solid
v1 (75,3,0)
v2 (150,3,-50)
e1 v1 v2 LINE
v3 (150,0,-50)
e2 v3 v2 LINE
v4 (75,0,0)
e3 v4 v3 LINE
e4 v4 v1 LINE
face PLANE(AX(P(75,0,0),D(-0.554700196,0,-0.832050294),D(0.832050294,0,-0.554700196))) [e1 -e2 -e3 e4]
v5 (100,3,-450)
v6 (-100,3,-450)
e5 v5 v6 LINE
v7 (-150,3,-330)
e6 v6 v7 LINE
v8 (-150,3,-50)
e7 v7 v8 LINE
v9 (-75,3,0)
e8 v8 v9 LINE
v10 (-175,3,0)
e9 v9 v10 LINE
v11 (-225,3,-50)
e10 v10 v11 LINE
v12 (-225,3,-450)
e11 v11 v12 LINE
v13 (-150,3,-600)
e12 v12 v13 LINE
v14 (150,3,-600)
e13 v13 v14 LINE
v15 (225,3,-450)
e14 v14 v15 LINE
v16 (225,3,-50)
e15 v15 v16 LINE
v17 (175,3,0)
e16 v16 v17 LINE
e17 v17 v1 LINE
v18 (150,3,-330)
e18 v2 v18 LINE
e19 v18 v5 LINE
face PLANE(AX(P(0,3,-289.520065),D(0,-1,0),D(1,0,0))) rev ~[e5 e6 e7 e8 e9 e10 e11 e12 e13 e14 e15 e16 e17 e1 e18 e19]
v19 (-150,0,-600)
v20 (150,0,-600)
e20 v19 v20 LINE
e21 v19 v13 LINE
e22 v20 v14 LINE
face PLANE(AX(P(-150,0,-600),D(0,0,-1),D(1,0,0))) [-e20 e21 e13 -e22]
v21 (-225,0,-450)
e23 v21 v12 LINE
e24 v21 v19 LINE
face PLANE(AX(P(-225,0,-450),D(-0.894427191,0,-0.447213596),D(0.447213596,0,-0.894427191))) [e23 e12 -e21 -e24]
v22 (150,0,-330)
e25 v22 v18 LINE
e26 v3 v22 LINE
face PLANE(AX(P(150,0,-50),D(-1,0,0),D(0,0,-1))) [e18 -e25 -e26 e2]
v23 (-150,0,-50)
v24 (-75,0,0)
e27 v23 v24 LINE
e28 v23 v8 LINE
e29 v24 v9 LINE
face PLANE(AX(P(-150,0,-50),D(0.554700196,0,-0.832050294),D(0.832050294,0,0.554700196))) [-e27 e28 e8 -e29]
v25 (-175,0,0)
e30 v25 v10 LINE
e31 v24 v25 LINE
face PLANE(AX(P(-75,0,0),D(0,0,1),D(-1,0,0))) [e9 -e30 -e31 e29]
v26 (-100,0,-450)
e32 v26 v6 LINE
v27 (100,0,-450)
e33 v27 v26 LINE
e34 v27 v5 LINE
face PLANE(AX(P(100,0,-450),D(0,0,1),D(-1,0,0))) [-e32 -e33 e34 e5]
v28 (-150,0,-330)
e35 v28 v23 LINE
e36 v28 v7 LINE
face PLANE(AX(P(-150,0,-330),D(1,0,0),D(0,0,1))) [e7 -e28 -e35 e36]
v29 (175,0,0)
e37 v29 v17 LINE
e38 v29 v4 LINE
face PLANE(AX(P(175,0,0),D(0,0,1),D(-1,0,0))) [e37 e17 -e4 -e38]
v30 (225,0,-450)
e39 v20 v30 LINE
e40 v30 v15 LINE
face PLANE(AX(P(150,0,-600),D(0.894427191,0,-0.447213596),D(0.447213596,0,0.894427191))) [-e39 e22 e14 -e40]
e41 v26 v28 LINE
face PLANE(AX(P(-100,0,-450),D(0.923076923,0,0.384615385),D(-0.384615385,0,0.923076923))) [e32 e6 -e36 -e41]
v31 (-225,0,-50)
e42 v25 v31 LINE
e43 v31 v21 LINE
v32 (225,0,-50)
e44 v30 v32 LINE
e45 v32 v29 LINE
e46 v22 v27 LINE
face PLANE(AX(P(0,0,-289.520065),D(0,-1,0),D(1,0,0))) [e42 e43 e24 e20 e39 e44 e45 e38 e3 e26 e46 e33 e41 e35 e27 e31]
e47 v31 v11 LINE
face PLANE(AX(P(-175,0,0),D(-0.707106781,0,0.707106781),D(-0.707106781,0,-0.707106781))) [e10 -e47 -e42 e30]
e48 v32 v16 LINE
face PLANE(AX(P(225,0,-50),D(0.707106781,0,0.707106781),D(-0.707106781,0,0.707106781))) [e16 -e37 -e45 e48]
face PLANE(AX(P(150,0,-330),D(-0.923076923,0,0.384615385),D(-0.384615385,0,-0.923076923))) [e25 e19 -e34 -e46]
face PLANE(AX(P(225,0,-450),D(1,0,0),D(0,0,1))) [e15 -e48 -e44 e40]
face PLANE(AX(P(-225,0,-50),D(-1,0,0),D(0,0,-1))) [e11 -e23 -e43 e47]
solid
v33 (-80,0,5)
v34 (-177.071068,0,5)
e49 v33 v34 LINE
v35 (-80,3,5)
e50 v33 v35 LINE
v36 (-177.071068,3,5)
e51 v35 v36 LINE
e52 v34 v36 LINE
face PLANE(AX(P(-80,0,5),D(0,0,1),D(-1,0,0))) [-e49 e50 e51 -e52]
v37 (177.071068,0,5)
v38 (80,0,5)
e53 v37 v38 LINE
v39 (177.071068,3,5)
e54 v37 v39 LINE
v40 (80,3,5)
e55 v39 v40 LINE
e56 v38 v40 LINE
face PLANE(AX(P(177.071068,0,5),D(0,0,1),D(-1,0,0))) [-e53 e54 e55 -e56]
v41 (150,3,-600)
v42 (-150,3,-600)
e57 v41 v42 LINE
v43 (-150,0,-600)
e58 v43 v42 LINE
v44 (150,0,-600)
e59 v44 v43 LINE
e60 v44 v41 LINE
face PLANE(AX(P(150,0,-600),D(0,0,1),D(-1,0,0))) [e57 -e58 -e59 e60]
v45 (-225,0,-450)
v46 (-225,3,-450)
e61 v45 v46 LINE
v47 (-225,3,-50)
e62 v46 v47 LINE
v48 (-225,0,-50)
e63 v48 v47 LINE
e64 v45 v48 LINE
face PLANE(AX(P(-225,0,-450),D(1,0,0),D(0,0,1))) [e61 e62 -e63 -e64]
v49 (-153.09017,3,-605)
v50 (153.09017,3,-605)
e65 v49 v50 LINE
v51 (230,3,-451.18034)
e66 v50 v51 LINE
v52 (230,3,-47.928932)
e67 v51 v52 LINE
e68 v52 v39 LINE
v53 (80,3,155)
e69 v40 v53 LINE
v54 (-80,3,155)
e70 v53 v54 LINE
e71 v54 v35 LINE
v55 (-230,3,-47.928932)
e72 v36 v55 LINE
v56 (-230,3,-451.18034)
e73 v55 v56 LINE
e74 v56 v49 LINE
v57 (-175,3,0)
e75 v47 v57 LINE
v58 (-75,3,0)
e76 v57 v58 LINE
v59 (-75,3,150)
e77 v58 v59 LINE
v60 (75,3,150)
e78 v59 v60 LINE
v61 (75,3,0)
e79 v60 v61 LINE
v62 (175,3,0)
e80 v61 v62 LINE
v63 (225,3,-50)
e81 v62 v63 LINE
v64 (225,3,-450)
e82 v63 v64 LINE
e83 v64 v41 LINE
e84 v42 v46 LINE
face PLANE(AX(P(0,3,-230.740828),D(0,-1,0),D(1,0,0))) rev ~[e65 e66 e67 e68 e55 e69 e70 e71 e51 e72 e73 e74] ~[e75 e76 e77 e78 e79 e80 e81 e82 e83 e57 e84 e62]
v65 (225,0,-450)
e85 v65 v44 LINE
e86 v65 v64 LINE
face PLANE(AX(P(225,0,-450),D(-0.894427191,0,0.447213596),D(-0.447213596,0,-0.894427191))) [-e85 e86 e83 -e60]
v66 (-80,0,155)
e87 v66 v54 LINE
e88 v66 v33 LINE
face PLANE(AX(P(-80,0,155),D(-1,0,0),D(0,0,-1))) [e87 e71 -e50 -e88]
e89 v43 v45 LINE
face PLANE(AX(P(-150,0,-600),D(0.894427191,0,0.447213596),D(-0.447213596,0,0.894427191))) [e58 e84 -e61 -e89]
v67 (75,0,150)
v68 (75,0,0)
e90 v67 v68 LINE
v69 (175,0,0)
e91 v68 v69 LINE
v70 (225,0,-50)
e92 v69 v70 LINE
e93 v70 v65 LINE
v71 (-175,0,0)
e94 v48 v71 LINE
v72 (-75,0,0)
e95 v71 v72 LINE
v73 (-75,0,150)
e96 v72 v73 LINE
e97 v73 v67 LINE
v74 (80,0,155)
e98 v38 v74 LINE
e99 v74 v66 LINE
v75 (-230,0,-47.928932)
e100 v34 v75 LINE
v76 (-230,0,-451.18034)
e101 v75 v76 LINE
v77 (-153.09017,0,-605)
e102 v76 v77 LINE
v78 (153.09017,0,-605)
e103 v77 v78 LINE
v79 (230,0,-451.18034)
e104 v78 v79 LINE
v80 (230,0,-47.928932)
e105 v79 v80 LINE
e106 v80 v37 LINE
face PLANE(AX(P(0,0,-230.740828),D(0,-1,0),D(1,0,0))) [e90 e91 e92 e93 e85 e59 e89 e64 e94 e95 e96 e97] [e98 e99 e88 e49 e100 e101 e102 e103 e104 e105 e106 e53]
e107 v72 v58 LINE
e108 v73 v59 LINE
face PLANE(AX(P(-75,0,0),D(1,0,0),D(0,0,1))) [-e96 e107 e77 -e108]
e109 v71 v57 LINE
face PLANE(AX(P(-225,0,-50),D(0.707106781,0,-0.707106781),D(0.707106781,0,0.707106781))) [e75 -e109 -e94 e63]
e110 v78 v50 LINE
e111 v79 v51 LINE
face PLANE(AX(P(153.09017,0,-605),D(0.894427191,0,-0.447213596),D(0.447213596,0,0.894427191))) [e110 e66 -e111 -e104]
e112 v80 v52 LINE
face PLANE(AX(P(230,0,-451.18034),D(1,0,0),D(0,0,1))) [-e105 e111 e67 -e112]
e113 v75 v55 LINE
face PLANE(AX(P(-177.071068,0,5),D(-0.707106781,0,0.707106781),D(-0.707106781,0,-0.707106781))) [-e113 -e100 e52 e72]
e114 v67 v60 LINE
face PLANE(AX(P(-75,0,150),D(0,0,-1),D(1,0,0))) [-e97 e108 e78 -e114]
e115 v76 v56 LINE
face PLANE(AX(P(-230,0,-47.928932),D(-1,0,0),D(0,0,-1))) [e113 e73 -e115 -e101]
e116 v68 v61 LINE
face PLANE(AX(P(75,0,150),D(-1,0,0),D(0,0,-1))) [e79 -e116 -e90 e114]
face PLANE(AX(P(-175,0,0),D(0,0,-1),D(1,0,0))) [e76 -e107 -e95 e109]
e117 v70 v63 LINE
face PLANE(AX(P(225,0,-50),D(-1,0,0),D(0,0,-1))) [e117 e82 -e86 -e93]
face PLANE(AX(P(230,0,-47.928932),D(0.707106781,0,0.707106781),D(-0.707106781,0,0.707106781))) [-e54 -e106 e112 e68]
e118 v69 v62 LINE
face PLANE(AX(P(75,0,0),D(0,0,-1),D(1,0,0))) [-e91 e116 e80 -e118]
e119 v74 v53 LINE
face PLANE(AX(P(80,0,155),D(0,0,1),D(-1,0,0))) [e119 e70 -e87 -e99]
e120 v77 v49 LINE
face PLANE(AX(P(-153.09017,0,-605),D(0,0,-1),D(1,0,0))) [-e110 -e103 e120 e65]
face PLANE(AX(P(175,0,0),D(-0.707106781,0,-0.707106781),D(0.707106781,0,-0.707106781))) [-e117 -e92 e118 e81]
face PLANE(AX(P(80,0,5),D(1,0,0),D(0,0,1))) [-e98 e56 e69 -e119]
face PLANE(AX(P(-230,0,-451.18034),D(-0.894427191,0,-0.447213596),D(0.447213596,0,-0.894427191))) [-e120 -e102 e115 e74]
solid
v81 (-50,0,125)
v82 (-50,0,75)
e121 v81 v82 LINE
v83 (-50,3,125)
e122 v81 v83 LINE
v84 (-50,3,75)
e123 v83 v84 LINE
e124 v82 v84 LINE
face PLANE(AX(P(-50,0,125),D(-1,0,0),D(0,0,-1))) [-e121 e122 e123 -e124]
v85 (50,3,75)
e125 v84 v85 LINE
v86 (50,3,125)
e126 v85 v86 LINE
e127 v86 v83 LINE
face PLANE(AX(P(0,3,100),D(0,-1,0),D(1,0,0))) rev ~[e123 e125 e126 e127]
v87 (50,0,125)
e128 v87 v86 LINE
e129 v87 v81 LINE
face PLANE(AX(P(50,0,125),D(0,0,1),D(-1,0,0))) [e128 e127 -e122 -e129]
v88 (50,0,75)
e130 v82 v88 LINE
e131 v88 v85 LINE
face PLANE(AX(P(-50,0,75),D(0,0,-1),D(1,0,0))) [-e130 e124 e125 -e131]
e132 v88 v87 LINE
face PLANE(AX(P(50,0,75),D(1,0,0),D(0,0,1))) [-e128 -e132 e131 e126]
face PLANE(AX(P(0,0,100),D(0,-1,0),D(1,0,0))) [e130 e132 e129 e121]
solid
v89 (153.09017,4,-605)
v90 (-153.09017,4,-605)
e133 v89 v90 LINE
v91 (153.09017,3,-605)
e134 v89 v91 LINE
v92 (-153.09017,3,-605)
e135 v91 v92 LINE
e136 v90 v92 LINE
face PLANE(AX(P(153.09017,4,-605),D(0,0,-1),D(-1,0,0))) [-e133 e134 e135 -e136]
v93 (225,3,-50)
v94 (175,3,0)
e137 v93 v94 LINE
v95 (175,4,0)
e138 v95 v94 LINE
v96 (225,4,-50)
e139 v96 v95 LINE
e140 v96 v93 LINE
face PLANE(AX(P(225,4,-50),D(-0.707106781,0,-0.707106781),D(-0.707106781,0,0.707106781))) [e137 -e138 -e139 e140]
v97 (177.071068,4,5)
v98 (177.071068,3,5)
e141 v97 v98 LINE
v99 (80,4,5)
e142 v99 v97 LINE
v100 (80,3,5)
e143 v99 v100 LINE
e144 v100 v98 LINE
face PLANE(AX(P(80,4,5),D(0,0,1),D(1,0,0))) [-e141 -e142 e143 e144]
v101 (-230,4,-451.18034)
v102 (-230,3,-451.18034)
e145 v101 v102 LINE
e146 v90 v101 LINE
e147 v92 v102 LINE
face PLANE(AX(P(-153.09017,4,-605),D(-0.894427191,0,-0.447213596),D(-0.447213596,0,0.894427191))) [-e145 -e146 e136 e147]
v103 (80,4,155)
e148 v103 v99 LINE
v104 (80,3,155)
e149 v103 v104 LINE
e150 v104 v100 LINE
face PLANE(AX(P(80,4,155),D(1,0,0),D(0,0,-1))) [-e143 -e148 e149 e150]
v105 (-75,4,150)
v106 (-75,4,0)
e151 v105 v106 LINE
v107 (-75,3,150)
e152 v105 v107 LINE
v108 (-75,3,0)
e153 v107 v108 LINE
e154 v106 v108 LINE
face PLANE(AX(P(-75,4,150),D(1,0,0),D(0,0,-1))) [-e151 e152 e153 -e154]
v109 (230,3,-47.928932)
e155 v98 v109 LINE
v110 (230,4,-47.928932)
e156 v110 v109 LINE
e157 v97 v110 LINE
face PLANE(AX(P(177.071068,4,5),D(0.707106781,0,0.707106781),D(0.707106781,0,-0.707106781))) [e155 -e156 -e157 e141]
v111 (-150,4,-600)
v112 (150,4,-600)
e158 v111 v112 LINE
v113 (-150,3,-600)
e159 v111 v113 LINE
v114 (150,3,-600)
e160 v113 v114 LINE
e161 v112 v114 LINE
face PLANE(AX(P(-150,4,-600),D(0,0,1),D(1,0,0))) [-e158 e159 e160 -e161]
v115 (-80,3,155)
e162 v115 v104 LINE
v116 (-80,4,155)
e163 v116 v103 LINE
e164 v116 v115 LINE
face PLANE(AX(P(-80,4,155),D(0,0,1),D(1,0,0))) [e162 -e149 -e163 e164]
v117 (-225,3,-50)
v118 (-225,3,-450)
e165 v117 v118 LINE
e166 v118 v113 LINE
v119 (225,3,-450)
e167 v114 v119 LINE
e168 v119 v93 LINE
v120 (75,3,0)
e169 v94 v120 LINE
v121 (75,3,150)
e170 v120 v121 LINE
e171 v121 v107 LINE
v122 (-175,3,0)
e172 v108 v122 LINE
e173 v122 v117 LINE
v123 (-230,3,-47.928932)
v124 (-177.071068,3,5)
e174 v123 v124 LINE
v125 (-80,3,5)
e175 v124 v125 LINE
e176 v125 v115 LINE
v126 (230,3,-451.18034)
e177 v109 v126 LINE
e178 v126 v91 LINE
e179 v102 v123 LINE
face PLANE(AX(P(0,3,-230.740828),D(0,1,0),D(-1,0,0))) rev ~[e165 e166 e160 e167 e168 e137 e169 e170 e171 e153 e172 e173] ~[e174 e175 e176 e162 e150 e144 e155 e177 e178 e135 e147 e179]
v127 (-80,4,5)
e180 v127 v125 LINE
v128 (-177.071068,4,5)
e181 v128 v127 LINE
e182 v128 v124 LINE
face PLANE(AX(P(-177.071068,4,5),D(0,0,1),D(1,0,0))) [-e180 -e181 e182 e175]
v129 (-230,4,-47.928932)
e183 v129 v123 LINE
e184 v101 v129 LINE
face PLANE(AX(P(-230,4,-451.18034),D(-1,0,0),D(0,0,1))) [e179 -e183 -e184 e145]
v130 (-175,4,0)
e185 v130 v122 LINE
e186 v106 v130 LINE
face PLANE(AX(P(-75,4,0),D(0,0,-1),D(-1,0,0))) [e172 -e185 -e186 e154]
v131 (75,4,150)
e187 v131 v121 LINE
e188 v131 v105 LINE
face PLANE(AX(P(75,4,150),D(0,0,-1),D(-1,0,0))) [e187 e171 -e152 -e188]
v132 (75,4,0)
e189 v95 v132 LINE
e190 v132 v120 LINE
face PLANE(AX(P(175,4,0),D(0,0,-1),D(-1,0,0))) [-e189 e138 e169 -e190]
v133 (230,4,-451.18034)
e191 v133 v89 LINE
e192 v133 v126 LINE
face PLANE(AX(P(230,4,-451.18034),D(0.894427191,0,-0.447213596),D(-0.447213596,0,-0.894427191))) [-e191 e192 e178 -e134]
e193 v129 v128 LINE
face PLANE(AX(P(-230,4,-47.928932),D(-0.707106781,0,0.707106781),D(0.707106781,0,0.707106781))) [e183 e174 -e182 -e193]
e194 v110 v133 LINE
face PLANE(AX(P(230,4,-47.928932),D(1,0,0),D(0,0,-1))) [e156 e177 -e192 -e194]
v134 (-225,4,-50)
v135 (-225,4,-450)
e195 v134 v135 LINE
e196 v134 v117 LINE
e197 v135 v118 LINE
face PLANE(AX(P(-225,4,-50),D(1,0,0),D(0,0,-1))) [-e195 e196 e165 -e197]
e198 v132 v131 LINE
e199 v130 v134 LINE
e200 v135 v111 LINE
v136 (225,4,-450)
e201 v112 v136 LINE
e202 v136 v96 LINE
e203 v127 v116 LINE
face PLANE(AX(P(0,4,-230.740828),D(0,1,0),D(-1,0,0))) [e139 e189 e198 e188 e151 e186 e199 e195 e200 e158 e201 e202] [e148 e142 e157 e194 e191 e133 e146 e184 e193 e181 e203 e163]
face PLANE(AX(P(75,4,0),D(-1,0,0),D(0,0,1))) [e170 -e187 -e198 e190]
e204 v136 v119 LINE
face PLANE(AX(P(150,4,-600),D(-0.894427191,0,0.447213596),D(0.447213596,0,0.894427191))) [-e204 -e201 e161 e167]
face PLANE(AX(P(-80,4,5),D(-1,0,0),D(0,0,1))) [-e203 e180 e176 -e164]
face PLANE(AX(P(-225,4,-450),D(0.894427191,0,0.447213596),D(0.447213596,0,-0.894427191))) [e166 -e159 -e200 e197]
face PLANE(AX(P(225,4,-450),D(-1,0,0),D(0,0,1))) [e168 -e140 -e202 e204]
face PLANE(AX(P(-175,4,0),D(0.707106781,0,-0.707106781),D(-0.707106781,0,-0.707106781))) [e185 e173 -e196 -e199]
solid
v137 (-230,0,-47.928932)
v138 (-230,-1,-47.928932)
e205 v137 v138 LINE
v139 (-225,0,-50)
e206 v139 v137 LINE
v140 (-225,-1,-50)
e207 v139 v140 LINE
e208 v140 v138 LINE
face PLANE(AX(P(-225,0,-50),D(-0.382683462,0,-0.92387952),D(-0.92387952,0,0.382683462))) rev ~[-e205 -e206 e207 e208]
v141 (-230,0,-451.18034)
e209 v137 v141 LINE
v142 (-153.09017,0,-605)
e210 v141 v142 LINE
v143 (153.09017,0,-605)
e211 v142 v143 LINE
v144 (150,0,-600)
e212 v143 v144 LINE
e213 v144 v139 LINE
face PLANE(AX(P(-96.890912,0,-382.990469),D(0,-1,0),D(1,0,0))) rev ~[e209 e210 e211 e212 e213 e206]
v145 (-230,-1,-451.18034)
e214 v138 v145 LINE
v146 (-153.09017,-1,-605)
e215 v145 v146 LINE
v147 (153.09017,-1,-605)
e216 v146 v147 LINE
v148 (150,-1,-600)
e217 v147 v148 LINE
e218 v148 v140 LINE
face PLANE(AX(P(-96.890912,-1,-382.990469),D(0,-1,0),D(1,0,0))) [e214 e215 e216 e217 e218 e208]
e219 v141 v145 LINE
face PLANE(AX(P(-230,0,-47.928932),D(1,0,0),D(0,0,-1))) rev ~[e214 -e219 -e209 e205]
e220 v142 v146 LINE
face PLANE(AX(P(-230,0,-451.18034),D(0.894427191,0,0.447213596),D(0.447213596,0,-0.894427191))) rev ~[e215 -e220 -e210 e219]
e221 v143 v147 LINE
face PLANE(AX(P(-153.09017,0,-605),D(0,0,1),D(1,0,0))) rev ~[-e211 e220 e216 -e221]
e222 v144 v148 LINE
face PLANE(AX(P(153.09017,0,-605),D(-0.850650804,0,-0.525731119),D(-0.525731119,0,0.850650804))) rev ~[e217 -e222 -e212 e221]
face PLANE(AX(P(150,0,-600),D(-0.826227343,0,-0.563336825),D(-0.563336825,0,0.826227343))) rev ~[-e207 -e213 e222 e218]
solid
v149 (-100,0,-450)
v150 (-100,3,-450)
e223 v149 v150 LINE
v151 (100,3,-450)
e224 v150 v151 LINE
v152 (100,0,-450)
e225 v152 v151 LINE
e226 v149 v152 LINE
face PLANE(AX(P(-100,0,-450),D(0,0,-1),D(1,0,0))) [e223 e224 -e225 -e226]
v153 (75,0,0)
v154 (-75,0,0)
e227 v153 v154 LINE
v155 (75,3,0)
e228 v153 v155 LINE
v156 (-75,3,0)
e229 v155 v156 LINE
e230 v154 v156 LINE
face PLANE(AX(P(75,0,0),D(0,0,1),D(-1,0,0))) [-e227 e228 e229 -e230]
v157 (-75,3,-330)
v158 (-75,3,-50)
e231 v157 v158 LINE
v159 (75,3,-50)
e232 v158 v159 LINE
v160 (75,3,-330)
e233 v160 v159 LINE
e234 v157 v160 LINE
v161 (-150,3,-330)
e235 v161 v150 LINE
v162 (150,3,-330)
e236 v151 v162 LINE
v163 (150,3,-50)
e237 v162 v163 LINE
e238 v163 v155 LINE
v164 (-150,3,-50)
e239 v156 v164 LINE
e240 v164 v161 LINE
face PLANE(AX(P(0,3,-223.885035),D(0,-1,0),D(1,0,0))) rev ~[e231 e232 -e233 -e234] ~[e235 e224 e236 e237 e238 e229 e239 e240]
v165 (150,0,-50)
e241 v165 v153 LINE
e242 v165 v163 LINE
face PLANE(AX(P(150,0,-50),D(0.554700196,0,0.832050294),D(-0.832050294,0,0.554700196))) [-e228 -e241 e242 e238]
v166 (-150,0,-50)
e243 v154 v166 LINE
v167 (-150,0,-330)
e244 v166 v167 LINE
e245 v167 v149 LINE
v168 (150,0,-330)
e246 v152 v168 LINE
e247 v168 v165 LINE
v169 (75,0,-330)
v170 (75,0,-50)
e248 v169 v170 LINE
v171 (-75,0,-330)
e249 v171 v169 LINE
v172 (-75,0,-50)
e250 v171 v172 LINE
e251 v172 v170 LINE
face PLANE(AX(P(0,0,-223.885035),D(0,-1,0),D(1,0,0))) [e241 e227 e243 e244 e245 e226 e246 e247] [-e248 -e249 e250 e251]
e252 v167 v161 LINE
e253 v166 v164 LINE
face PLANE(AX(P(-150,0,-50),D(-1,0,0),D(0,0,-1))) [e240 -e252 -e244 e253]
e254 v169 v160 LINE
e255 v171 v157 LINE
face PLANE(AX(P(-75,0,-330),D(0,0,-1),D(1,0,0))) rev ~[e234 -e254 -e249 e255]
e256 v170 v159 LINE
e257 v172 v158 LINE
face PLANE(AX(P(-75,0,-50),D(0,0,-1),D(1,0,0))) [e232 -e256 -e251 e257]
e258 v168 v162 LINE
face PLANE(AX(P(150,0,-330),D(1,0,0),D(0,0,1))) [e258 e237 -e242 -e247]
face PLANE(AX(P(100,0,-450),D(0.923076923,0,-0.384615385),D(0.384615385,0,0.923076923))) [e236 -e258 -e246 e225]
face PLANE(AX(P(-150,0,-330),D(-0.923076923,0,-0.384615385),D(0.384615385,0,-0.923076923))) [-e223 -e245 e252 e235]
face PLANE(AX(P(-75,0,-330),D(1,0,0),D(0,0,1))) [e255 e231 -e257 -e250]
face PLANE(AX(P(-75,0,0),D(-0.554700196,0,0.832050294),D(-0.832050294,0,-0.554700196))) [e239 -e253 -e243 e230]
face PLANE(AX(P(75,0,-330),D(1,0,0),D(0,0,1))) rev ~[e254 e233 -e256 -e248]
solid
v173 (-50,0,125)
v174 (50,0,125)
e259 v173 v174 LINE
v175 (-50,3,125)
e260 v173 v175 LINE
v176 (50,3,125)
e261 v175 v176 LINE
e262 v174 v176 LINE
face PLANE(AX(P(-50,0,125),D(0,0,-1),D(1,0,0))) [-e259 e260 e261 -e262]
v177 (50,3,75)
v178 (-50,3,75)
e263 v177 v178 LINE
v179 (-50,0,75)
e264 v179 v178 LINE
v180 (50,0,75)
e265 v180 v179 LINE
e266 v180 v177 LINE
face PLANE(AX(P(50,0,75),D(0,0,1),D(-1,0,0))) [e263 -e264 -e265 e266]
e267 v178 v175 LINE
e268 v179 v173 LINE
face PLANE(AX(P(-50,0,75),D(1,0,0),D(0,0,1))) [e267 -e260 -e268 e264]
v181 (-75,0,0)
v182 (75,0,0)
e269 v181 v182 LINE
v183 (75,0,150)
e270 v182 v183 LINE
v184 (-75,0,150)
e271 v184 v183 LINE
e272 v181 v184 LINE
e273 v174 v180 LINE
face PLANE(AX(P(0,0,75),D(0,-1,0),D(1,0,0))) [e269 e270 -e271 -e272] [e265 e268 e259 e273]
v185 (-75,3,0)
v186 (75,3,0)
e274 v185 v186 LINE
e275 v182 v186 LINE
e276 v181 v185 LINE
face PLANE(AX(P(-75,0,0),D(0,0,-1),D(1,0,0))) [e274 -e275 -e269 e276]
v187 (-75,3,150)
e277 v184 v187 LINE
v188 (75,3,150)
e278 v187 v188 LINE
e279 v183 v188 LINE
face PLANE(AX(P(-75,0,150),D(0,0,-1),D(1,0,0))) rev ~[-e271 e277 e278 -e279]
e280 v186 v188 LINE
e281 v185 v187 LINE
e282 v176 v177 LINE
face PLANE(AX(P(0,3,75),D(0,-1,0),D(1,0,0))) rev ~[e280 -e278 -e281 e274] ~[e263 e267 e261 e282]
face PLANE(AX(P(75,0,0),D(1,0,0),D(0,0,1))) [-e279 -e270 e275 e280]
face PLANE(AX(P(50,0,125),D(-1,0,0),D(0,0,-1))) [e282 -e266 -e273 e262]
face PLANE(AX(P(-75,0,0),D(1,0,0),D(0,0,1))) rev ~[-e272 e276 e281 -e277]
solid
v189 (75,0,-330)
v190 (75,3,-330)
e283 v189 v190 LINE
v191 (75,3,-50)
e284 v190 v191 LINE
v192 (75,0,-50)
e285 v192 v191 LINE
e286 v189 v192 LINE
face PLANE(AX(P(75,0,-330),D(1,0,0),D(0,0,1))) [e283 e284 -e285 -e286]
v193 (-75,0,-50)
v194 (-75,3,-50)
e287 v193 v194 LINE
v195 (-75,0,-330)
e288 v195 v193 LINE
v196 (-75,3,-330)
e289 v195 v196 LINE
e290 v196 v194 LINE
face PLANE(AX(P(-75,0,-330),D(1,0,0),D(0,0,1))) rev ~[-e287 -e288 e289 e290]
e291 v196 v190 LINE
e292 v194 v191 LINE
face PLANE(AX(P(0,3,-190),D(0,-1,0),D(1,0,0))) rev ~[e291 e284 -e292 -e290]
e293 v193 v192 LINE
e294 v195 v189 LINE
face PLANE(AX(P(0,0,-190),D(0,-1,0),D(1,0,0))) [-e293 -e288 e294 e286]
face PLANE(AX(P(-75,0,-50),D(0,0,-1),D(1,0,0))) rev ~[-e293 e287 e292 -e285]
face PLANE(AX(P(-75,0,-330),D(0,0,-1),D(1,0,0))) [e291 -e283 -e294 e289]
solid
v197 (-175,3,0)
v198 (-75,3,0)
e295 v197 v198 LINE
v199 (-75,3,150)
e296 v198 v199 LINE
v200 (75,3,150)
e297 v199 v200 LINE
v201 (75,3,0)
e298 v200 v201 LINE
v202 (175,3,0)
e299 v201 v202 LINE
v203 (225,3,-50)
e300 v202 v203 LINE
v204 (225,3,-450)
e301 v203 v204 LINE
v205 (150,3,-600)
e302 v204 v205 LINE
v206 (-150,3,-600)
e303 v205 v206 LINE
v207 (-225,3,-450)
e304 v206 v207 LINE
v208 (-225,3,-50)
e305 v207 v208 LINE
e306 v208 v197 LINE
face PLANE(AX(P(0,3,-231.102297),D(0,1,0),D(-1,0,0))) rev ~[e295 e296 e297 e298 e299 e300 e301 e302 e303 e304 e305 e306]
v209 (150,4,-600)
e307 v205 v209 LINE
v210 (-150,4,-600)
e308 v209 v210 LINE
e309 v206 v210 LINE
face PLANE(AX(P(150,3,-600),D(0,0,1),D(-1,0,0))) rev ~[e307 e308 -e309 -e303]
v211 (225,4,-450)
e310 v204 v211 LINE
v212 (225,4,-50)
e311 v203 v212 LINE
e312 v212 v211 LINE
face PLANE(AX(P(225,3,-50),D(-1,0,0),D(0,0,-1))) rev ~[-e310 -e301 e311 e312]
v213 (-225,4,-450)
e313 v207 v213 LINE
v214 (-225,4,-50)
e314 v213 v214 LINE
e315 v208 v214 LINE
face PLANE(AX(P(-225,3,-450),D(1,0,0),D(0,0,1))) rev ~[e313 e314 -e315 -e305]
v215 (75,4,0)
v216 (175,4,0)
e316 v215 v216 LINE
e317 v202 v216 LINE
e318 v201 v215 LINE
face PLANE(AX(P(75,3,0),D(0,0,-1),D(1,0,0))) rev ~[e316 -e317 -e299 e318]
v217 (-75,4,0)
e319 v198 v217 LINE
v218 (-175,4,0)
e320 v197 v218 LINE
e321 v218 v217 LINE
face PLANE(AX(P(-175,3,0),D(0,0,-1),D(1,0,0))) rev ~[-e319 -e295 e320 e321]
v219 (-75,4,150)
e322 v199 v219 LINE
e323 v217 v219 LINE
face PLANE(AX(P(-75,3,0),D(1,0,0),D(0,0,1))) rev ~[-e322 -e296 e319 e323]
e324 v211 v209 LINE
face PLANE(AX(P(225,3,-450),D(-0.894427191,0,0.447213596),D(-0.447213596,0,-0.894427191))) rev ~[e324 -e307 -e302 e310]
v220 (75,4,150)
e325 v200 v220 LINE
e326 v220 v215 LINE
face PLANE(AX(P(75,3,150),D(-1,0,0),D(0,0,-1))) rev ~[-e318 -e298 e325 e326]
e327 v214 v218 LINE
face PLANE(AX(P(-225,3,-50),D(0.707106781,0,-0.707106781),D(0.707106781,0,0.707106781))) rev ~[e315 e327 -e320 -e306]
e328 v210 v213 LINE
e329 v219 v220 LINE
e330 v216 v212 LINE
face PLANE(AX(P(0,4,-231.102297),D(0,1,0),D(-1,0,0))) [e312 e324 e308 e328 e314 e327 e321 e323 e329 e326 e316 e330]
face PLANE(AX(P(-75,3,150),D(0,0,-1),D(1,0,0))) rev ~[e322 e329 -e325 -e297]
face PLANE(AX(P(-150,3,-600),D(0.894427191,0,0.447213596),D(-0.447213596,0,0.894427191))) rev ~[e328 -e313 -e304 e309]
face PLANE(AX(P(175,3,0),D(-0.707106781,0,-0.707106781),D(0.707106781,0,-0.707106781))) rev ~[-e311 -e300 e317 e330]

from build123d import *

# Parameters (mm, degrees)
F1_DEPTH  = 3
F2_W      = 150
F2_H      = 150
F3_DEPTH  = 3
F4_W      = 150
F4_H      = 280
F5_DEPTH  = 3
F6_W      = 150
F6_H      = 280
F7_DEPTH  = 3
F9_DEPTH  = 3
F11_DEPTH = 3
F13_DEPTH = 1
F15_DEPTH = 1
F17_DEPTH = 1


with BuildPart() as f1:
    # F0 (on Front) → F1 (new body)
    with BuildSketch(Plane.XZ):
        Polygon((50, 125), (0, 125), (-50, 125), (-50, 100), (-50, 75), (0, 75), (50, 75), (50, 100), align=None)
    extrude(amount=-F1_DEPTH)


with BuildPart() as f3:
    # F2 (on Front) → F3 (new body)
    with BuildSketch(Plane.XZ):
        with Locations((0, 75)):
            Rectangle(F2_W, F2_H)
        Polygon((-50, 125), (0, 125), (50, 125), (50, 100), (50, 75), (0, 75), (-50, 75), (-50, 100), align=None, mode=Mode.SUBTRACT)
    extrude(amount=-F3_DEPTH)


with BuildPart() as f5:
    # F4 (on Front) → F5 (new body)
    with BuildSketch(Plane.XZ):
        with Locations((0, -190)):
            Rectangle(F4_W, F4_H)
    extrude(amount=-F5_DEPTH)


with BuildPart() as f7:
    # F6 (on Front) → F7 (new body)
    with BuildSketch(Plane.XZ):
        Polygon((75, 0), (-75, 0), (-150, -50), (-150, -330), (-100, -450), (100, -450), (150, -330), (150, -50), align=None)
        with Locations((0, -190)):
            Rectangle(F6_W, F6_H, mode=Mode.SUBTRACT)
    extrude(amount=-F7_DEPTH)


with BuildPart() as f9:
    # F8 (on face) → F9 (new body)
    with BuildSketch(Plane.XZ):
        Polygon((175, 0), (75, 0), (150, -50), (150, -330), (100, -450), (-100, -450), (-150, -330), (-150, -50), (-75, 0), (-175, 0), (-225, -50), (-225, -450), (-150, -600), (150, -600), (225, -450), (225, -50), align=None)
    extrude(amount=-F9_DEPTH)


with BuildPart() as f11:
    # F10 (on face) → F11 (new body)
    with BuildSketch(Plane.XZ):
        Polygon((230, -47.928932), (177.071068, 5), (80, 5), (80, 155), (-80, 155), (-80, 5), (-177.071068, 5), (-230, -47.928932), (-230, -451.18034), (-153.09017, -605), (153.09017, -605), (230, -451.18034), align=None)
        Polygon((-75, 150), (75, 150), (75, 0), (175, 0), (225, -50), (225, -450), (150, -600), (-150, -600), (-225, -450), (-225, -50), (-175, 0), (-75, 0), align=None, mode=Mode.SUBTRACT)
    extrude(amount=-F11_DEPTH)


with BuildPart() as f13:
    # F12 (on face) → F13 (new body)
    with BuildSketch(Plane(origin=(0, 3, 0), x_dir=(-1, 0, 0), z_dir=(0, 1, 0))):
        Polygon((75, 0), (75, 150), (-75, 150), (-75, 0), (-175, 0), (-225, -50), (-225, -450), (-150, -600), (150, -600), (225, -450), (225, -50), (175, 0), align=None)
    extrude(amount=F13_DEPTH)


with BuildPart() as f15:
    # F14 (on face) → F15 (new body)
    with BuildSketch(Plane(origin=(0, 4, 0), x_dir=(-1, 0, 0), z_dir=(0, 1, 0))):
        Polygon((80, 155), (-80, 155), (-80, 5), (-177.071068, 5), (-230, -47.928932), (-230, -451.18034), (-153.09017, -605), (153.09017, -605), (230, -451.18034), (230, -47.928932), (177.071068, 5), (80, 5), align=None)
        Polygon((-75, 0), (-75, 150), (75, 150), (75, 0), (175, 0), (225, -50), (225, -450), (150, -600), (-150, -600), (-225, -450), (-225, -50), (-175, 0), align=None, mode=Mode.SUBTRACT)
    extrude(amount=-F15_DEPTH)


with BuildPart() as f17:
    # F16 (on face) → F17 (new body)
    with BuildSketch(Plane.XZ):
        Polygon((-230, -451.18034), (-153.09017, -605), (153.09017, -605), (150, -600), (-225, -50), (-230, -47.928932), align=None)
    extrude(amount=F17_DEPTH)


solid = Compound([f1.part, f3.part, f5.part, f7.part, f9.part, f11.part, f13.part, f15.part, f17.part])
